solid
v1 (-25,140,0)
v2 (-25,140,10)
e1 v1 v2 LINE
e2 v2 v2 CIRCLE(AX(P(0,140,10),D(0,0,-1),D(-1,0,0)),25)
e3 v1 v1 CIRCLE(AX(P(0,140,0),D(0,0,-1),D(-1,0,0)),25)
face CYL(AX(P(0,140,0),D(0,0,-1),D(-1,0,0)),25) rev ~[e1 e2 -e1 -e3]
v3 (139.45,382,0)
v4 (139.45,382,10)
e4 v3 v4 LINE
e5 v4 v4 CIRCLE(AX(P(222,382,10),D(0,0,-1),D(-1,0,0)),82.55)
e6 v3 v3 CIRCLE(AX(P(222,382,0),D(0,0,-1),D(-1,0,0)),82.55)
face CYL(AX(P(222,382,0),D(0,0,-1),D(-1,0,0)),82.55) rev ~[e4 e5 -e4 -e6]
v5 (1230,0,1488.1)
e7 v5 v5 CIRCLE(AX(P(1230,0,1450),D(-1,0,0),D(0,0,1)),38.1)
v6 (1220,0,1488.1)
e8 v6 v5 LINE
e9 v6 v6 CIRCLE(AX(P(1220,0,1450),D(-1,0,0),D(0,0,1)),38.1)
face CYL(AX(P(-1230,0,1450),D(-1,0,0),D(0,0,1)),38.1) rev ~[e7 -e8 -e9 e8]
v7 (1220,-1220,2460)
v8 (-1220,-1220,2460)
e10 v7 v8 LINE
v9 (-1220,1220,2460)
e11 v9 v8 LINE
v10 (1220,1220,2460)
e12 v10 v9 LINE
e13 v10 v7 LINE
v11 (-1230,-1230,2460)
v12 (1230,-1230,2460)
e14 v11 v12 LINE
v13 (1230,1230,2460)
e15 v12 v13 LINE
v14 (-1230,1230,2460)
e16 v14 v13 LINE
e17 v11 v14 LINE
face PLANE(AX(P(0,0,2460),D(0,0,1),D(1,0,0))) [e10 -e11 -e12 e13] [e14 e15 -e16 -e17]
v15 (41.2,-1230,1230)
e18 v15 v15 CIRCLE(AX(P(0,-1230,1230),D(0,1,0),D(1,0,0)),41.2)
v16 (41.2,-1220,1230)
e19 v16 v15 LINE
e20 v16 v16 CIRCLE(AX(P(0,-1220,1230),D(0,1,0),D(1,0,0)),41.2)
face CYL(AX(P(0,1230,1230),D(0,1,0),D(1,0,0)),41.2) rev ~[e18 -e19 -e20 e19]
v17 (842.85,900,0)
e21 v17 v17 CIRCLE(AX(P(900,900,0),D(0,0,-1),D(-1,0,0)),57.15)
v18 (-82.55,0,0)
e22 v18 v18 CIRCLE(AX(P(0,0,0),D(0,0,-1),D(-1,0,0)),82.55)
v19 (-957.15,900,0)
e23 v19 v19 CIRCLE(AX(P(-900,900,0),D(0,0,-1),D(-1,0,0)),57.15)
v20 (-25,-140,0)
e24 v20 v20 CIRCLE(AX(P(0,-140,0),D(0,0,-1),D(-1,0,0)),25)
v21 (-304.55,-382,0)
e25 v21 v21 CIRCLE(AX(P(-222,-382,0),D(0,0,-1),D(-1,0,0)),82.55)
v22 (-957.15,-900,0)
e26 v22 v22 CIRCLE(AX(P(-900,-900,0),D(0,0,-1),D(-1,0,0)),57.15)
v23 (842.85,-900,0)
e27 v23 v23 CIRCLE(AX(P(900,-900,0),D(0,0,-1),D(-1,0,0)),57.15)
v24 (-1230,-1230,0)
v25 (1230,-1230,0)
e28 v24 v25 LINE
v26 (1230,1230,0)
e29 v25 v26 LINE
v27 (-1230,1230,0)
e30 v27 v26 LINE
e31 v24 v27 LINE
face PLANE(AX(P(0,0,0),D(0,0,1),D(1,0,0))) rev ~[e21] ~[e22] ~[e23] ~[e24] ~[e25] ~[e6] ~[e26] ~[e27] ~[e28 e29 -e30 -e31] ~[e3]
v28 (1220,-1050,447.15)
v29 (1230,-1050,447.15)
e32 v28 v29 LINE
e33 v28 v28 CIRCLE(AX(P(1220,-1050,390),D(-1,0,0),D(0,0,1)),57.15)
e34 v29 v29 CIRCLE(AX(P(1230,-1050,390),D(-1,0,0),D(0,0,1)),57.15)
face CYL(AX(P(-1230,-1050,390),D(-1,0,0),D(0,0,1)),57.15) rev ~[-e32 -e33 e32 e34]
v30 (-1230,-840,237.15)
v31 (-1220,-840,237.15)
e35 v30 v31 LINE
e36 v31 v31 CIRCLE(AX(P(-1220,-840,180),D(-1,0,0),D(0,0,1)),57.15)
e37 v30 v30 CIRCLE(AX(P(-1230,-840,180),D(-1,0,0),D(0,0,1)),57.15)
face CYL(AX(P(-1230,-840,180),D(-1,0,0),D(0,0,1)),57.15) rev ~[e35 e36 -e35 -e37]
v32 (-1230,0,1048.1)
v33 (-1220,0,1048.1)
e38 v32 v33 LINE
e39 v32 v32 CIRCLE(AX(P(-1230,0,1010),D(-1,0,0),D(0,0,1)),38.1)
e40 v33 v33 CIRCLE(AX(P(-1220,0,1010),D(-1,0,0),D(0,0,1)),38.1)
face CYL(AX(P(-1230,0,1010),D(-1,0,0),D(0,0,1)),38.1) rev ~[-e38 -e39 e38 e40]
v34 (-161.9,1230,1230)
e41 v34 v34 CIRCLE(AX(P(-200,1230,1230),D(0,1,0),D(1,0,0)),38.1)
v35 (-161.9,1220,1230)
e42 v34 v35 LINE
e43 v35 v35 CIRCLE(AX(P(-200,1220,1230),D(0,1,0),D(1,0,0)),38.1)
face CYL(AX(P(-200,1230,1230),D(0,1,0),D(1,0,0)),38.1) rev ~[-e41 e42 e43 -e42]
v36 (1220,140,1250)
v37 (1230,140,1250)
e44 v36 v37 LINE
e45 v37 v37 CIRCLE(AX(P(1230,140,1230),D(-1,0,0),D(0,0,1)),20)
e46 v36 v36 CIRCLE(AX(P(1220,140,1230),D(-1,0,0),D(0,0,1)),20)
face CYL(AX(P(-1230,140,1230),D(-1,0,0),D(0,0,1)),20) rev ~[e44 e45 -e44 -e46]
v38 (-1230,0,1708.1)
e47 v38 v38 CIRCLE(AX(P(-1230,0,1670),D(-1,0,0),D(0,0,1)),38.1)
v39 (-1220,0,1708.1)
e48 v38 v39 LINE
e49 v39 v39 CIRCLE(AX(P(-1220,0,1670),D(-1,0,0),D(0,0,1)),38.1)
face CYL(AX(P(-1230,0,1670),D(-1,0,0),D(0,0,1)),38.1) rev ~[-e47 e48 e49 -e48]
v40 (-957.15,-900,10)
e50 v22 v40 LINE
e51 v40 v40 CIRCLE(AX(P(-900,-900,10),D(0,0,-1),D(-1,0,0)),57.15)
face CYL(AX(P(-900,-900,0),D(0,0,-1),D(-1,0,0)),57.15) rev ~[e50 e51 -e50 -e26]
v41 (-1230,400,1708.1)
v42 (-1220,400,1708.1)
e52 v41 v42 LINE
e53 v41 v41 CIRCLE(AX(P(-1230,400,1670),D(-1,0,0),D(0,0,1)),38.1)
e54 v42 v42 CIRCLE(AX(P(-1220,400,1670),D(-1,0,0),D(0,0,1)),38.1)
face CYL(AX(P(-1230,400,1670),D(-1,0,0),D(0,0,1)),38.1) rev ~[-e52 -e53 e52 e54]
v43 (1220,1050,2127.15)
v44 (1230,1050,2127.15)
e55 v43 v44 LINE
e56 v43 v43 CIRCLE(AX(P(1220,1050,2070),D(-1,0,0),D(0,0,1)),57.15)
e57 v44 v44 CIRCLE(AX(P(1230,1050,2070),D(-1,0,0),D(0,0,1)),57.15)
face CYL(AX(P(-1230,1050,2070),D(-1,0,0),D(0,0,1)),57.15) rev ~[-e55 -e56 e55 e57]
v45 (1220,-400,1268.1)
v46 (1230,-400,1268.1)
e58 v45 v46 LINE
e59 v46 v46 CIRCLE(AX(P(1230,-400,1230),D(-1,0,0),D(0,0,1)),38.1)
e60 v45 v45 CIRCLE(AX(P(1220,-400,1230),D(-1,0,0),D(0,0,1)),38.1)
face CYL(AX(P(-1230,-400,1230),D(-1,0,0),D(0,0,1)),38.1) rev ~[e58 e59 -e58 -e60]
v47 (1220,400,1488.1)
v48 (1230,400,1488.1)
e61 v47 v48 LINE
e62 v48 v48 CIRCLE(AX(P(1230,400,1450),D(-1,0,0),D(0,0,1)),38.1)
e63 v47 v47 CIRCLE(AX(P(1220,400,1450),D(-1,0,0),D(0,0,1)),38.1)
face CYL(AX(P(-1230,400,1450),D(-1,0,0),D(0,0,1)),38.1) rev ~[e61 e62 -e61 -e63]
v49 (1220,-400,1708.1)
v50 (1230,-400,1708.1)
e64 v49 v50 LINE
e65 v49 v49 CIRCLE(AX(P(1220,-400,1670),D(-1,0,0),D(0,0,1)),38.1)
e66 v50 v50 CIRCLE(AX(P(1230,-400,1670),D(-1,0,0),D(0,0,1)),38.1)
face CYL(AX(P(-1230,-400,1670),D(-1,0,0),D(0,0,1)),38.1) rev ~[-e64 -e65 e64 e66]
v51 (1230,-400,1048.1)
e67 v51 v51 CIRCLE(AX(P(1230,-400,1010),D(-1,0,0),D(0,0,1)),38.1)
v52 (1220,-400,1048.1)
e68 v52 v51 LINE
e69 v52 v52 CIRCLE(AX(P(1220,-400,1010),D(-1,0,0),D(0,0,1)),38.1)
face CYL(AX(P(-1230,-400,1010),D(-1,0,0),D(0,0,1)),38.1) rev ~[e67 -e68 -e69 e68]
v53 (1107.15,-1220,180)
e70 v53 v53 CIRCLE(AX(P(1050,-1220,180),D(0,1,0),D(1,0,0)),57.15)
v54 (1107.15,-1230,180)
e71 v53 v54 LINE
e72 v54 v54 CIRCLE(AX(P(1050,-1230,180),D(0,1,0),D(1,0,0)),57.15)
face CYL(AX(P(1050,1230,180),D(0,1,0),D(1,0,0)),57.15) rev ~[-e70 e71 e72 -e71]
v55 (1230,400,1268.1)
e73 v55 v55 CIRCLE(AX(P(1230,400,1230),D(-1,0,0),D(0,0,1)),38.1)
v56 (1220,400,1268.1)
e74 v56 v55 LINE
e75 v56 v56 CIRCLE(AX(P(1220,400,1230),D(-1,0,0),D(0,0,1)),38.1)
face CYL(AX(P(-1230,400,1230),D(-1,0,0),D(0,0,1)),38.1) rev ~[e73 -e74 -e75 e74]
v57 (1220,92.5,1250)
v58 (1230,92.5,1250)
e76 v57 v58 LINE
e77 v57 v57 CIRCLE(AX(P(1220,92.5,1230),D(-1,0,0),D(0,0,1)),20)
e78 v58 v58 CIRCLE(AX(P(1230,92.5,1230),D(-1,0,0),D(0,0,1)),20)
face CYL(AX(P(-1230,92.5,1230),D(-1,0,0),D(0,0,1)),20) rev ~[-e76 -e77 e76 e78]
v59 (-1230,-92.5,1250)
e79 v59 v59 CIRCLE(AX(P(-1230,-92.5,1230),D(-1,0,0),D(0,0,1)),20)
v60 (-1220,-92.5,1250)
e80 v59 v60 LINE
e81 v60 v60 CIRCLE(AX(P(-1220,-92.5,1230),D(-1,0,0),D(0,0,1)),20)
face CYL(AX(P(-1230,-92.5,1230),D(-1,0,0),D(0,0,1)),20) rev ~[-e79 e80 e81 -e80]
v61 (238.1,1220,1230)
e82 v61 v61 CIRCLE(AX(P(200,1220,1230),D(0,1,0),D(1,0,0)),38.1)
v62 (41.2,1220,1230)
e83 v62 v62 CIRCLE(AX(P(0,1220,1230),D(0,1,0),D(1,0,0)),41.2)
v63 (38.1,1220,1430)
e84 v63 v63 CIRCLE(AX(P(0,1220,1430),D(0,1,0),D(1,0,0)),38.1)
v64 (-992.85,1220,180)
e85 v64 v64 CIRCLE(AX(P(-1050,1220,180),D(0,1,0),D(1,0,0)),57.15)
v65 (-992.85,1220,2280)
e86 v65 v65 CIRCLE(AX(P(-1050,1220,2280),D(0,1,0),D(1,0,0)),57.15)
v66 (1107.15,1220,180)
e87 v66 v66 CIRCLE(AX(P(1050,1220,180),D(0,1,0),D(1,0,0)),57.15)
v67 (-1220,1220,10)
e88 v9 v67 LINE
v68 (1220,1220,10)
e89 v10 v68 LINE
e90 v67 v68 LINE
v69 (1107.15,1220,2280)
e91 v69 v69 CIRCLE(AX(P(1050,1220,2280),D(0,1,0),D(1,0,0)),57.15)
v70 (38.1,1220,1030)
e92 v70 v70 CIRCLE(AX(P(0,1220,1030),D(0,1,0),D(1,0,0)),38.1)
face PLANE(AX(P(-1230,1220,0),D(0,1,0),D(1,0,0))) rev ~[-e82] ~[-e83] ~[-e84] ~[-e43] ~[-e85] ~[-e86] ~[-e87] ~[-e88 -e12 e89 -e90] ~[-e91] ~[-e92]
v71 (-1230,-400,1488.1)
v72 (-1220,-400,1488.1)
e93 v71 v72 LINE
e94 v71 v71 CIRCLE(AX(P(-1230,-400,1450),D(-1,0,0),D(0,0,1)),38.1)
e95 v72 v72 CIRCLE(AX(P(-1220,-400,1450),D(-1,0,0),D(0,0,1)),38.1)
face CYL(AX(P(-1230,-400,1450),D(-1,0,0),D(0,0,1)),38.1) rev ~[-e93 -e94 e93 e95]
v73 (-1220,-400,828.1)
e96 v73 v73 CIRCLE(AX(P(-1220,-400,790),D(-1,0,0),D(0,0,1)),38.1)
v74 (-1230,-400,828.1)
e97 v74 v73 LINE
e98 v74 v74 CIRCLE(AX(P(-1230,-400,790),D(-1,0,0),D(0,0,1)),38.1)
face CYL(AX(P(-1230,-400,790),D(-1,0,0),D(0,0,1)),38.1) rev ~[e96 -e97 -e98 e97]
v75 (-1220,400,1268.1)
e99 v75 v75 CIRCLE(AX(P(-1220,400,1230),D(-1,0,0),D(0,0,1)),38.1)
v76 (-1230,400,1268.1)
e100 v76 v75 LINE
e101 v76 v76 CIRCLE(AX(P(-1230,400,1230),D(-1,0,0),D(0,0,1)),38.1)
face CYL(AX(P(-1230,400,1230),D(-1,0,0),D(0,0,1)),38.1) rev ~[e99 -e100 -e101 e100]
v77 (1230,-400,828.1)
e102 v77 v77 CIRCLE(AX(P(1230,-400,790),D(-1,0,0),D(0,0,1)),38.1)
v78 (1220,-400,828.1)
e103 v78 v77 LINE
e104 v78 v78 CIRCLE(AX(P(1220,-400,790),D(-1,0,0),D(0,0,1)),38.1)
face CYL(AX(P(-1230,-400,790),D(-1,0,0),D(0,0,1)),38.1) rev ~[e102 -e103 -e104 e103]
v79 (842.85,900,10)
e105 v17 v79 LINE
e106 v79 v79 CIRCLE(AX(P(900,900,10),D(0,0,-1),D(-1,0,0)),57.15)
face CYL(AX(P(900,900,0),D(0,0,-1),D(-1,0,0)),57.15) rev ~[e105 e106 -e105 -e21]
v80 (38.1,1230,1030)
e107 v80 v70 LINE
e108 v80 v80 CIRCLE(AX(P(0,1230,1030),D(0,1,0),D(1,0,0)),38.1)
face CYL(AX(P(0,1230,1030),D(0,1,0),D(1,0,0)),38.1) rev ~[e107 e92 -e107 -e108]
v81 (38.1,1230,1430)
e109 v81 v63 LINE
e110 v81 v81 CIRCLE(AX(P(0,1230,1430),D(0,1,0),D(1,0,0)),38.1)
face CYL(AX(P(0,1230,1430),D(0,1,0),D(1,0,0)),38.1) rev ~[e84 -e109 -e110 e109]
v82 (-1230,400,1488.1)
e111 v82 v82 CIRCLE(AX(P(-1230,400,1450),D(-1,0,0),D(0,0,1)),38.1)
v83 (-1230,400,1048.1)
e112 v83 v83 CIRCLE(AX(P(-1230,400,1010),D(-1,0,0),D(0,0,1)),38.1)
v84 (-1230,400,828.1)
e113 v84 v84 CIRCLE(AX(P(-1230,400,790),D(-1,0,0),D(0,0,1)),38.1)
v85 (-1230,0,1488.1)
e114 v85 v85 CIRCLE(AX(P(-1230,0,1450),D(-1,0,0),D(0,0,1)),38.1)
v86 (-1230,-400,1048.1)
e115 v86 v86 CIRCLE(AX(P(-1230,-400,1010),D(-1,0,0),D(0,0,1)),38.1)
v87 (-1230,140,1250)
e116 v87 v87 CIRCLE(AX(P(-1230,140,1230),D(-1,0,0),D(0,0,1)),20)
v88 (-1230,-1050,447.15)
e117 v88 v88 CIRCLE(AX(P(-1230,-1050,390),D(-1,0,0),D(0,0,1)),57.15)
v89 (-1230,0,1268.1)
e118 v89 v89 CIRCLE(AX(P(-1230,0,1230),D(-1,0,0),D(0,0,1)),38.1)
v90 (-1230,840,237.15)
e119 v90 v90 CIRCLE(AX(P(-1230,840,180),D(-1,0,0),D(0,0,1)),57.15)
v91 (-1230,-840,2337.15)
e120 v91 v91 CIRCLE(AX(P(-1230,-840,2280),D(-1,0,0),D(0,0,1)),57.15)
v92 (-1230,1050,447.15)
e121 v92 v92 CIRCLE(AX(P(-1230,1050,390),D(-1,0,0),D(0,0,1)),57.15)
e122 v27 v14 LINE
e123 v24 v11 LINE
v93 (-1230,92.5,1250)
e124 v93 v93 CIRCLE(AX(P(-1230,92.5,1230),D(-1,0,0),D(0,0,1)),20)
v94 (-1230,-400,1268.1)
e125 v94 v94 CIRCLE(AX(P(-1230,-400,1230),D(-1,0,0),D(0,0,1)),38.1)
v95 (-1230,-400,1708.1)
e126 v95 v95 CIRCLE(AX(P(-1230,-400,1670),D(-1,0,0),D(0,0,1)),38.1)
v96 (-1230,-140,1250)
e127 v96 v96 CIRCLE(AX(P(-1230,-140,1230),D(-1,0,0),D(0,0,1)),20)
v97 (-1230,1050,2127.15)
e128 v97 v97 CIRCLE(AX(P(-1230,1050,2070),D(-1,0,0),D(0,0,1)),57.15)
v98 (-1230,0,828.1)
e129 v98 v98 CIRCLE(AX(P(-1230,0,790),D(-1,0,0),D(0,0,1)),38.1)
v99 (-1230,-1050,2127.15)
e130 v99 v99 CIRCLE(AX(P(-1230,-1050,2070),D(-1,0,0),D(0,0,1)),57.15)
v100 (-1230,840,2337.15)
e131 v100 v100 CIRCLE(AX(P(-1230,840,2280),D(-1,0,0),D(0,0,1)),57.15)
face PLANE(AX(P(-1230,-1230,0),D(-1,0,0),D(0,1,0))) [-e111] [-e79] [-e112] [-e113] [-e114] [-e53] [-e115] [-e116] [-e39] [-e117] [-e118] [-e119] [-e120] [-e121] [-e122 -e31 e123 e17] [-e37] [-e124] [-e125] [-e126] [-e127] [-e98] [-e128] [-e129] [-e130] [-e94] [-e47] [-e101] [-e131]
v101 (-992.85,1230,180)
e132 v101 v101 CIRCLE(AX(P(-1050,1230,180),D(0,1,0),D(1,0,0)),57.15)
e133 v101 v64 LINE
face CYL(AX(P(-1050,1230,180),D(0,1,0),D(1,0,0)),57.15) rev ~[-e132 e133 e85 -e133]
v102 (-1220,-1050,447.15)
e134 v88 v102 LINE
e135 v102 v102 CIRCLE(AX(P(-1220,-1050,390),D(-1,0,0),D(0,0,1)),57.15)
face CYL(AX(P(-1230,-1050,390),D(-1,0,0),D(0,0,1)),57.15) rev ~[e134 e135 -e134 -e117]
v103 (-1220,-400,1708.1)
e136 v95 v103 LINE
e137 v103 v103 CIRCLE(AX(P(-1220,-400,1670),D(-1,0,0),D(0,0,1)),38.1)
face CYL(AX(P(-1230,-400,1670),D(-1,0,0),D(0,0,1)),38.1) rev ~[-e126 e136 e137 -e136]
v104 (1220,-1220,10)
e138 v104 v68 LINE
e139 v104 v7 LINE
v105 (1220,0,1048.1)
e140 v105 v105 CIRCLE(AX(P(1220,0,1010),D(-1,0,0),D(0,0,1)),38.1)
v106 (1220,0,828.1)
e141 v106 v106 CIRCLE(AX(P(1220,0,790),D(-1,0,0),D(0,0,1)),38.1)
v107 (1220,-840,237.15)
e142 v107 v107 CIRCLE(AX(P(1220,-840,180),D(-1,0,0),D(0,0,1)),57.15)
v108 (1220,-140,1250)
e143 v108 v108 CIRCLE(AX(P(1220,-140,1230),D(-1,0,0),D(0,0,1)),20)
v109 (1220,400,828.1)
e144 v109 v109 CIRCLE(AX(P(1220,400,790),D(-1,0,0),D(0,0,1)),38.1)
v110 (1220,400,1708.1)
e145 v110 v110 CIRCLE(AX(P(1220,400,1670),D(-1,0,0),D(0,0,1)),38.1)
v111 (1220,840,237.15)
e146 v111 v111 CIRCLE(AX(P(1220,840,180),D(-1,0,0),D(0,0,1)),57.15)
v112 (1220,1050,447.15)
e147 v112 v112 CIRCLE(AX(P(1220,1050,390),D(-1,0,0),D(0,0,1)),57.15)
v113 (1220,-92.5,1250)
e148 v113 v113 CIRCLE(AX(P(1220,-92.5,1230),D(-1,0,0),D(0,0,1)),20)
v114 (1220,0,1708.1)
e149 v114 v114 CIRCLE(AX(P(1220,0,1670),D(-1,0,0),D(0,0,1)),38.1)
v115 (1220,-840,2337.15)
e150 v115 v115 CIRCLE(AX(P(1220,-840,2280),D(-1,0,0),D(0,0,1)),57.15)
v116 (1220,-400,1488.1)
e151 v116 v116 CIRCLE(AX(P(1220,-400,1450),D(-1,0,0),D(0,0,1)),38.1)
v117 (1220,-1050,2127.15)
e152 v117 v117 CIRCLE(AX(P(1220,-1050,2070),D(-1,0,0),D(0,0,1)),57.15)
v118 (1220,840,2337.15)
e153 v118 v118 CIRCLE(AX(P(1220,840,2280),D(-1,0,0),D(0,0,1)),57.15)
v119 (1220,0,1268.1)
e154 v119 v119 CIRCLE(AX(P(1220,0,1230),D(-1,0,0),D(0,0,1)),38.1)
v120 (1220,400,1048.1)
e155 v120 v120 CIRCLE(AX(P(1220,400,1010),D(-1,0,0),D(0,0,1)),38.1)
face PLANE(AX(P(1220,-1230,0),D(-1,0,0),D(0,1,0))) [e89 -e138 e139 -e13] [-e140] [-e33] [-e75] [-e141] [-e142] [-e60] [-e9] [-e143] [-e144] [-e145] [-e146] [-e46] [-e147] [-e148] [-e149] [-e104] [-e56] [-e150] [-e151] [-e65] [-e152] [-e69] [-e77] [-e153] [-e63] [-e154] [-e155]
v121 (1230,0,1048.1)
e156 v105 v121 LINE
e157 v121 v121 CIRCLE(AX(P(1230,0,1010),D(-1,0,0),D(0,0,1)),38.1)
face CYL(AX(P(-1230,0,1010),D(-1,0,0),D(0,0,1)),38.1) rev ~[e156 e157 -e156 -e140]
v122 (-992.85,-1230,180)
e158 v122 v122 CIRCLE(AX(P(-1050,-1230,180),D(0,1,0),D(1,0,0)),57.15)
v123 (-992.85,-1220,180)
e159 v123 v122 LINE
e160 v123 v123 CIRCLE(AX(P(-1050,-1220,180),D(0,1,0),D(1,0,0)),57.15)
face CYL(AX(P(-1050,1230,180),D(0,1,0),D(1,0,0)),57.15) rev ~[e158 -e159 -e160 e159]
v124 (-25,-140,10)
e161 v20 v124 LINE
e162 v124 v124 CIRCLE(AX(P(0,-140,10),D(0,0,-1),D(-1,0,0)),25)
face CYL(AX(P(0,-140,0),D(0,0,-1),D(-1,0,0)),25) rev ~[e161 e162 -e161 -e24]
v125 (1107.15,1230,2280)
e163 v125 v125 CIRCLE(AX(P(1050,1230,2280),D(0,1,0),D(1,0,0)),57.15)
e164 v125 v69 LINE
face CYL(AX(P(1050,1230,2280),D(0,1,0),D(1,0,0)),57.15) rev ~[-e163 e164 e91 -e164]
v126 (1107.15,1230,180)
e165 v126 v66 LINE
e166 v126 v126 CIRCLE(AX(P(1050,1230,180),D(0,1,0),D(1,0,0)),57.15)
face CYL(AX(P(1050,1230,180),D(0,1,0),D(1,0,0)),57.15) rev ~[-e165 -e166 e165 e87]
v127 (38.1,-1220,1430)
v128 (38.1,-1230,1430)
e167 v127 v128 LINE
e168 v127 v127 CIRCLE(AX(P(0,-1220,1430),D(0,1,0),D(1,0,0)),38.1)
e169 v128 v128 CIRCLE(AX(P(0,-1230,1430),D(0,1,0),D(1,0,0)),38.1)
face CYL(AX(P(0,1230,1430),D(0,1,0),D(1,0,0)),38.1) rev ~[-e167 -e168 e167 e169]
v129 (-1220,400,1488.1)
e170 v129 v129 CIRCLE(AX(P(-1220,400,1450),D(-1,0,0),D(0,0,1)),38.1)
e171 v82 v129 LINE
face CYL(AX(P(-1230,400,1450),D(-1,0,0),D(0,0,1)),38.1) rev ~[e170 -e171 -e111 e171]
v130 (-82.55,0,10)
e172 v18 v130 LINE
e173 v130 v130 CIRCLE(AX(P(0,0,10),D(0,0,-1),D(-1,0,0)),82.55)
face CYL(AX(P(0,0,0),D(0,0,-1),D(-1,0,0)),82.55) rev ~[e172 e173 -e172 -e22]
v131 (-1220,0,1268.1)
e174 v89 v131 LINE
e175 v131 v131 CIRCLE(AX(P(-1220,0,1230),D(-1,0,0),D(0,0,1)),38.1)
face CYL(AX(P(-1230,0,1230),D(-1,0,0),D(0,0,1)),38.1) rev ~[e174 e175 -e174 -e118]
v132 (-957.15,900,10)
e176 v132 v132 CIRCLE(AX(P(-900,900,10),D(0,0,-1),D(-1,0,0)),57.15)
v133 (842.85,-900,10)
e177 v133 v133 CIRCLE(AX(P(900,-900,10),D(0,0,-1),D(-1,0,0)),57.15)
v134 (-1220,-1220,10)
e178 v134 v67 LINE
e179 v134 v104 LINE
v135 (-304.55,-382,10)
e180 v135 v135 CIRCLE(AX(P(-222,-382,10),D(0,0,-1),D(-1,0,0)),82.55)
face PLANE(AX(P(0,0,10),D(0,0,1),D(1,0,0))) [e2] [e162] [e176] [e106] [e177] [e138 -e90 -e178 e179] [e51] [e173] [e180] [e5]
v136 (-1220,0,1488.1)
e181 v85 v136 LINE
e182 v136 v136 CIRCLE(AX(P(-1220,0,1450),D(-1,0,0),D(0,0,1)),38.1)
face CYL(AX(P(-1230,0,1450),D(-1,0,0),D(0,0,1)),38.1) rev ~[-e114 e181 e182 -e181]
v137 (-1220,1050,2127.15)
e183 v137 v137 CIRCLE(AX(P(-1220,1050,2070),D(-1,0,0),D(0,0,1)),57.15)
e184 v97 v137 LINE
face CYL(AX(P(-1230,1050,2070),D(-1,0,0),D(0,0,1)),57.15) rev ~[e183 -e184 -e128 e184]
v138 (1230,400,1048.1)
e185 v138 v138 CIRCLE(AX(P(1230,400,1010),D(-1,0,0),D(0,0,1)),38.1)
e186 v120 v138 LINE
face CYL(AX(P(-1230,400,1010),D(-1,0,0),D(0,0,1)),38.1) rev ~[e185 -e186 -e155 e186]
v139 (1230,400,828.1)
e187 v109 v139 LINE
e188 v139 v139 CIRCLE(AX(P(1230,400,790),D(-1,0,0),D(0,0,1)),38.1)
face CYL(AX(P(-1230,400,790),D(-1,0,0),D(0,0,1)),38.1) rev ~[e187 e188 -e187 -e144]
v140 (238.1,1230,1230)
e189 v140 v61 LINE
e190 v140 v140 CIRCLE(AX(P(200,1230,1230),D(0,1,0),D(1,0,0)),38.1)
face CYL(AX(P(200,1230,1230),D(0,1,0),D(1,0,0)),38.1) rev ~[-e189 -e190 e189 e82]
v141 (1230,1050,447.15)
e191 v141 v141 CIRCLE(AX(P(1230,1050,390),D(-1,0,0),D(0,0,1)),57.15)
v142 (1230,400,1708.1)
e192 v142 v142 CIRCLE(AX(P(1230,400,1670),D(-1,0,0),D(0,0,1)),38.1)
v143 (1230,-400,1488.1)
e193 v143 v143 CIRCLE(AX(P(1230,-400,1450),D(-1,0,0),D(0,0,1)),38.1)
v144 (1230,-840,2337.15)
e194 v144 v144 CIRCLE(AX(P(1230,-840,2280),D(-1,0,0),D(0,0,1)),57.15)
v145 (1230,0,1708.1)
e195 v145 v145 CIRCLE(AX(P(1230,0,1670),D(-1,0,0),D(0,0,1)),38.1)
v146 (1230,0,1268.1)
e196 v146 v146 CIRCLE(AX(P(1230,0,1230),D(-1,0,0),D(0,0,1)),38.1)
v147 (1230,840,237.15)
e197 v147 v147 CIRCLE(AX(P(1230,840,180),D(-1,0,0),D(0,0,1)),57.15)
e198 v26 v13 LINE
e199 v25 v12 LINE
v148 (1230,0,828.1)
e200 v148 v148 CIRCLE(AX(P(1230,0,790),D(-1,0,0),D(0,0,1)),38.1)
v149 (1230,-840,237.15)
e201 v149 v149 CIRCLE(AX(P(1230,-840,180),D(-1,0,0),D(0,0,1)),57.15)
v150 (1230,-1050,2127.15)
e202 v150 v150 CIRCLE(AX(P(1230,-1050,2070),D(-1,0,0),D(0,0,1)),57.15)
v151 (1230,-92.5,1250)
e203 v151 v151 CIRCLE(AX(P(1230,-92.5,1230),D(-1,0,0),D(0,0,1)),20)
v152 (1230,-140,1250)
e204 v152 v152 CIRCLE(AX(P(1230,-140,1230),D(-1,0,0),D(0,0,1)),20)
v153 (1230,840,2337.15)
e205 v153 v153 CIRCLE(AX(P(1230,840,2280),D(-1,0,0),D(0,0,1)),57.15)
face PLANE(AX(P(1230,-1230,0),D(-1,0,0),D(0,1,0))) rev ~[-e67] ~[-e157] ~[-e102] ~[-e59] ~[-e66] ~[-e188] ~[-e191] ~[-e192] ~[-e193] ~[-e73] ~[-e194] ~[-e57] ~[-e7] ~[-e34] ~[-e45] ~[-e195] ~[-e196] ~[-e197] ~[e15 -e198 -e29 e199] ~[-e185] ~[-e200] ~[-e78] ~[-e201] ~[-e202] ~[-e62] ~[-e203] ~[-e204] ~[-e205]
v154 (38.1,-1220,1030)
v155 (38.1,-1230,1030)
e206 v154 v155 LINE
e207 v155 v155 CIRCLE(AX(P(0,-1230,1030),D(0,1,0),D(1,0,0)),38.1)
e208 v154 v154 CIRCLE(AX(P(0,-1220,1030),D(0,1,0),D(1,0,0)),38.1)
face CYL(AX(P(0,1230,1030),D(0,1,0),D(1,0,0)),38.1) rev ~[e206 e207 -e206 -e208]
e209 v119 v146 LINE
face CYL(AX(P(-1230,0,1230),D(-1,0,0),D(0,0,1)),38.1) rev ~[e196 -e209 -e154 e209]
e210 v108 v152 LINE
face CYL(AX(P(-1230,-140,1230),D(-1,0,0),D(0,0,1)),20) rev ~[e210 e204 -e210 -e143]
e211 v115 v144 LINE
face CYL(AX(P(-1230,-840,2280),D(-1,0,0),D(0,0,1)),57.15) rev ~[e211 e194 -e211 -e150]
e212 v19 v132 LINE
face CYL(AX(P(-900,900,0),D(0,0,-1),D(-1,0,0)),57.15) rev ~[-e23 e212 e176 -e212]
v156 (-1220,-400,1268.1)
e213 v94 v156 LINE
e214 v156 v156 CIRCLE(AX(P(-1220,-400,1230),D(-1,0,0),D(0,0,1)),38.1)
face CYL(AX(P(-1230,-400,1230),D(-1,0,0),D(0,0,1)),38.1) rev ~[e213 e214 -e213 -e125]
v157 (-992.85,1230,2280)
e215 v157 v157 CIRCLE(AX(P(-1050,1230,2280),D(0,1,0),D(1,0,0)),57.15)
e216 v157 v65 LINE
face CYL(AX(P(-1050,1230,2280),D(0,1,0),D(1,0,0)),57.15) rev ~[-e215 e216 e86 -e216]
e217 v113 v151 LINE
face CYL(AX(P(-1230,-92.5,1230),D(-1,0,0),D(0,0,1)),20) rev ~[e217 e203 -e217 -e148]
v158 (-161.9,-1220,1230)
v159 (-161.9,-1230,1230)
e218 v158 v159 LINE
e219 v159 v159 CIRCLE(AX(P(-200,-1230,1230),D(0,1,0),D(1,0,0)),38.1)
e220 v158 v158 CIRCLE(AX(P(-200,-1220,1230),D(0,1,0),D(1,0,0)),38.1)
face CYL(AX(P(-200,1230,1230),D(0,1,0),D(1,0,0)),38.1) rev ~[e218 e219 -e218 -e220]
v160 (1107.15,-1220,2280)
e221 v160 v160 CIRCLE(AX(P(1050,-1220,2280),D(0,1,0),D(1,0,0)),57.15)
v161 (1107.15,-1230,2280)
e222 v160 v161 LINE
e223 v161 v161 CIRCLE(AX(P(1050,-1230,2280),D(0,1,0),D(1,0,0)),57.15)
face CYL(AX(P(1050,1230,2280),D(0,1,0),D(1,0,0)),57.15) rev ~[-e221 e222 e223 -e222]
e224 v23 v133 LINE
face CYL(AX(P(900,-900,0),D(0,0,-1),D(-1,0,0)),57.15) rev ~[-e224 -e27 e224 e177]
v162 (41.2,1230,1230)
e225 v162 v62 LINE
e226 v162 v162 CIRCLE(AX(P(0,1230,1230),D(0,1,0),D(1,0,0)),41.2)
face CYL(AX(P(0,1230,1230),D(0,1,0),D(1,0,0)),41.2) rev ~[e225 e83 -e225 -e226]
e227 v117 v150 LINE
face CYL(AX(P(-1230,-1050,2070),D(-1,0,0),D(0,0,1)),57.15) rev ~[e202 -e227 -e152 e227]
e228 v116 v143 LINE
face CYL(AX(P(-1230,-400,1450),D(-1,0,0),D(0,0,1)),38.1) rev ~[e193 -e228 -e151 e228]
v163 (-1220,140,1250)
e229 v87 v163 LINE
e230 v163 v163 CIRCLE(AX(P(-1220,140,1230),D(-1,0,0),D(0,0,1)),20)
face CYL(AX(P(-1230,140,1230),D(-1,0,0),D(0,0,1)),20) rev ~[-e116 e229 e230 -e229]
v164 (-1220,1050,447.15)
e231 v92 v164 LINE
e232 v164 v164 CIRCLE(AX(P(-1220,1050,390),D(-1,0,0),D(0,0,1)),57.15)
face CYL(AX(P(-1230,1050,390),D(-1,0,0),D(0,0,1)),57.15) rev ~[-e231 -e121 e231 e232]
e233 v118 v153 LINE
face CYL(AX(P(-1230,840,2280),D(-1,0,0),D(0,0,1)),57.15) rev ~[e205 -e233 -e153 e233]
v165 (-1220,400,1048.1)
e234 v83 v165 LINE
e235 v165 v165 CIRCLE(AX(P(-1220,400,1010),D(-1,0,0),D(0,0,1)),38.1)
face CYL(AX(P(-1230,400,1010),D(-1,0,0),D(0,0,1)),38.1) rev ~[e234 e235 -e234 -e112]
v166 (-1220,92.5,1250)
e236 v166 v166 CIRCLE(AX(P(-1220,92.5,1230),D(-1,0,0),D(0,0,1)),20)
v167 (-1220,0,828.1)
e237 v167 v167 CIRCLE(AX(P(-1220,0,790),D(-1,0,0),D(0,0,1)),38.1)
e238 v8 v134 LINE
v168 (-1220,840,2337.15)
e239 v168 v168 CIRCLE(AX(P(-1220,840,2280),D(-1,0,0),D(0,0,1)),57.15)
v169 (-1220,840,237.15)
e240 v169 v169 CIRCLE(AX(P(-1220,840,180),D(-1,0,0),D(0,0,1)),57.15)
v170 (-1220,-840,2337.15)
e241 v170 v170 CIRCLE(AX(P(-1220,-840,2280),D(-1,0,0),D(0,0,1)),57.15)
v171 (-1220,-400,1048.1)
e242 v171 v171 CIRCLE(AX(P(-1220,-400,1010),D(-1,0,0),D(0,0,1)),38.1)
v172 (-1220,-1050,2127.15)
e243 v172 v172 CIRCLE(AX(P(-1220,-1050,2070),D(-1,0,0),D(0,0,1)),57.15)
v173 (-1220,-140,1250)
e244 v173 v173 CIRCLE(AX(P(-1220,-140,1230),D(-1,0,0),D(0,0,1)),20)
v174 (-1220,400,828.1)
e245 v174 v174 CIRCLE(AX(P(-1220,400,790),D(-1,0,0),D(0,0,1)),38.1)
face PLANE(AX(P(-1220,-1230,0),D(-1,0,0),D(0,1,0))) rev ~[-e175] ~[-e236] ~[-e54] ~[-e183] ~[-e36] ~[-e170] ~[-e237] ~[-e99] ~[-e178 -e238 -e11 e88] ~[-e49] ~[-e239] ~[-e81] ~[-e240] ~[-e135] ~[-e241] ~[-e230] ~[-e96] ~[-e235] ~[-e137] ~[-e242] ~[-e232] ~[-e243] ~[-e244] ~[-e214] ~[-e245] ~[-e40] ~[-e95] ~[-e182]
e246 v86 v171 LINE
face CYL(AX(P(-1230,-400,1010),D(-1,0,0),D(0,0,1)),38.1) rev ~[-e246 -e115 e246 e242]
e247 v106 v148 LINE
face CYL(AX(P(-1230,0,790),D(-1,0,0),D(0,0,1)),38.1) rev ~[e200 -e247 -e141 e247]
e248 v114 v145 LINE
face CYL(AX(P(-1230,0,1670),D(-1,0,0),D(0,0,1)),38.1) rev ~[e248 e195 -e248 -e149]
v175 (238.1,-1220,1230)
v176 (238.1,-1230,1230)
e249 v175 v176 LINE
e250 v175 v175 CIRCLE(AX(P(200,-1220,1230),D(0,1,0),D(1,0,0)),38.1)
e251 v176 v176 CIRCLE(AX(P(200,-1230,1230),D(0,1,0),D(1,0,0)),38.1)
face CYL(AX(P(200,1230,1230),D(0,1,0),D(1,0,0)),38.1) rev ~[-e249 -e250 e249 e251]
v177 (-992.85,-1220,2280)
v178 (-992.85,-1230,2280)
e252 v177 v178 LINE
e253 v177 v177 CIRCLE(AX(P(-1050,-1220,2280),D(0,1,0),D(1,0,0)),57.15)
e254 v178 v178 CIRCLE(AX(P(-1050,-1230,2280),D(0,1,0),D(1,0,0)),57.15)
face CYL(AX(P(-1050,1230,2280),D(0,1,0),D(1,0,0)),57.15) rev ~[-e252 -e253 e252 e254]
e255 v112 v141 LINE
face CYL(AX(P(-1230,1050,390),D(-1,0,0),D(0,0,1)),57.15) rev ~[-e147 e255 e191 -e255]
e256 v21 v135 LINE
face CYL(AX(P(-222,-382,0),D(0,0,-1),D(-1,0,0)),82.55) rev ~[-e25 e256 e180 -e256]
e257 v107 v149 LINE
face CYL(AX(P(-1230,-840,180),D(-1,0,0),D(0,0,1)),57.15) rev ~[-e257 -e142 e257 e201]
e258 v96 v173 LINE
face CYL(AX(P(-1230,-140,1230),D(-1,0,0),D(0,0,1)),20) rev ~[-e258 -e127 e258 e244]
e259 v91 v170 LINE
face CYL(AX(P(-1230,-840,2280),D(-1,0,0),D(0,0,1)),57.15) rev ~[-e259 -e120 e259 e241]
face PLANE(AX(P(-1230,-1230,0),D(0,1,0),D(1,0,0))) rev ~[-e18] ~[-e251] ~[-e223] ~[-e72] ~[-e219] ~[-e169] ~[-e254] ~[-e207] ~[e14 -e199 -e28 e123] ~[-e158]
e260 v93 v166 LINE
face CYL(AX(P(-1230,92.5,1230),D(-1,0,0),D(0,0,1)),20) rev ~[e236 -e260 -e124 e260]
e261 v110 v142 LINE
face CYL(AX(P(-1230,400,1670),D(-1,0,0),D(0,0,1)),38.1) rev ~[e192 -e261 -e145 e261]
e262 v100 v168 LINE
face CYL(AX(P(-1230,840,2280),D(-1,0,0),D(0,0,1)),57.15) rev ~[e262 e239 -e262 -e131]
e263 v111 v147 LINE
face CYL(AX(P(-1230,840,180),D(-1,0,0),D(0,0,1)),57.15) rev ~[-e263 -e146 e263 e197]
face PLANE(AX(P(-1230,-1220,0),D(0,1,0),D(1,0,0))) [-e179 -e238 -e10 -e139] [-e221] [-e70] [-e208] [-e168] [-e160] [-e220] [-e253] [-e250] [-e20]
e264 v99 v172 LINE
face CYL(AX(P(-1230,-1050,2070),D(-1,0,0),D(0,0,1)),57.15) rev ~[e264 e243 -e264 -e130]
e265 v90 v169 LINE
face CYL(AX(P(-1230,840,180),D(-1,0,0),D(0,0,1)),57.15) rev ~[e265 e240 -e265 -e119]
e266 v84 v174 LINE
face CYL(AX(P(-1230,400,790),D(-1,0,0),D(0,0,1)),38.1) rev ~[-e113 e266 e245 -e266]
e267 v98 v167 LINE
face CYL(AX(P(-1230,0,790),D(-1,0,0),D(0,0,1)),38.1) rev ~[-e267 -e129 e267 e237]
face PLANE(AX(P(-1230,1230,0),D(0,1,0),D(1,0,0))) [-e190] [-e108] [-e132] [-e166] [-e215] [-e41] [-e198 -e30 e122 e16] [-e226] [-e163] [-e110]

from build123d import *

# Parameters (mm, degrees)
SKETCH1_W           = 2460
SKETCH1_H           = 2460
BOSS_EXTRUDE1_DEPTH = 2460
SHELL1_T            = -10
SKETCH2_R           = 38.1
SKETCH2_R_2         = 20
SKETCH2_R_3         = 57.15
CUT_EXTRUDE1_DEPTH  = 2461
SKETCH3_R           = 41.2
SKETCH3_R_2         = 38.1
SKETCH3_R_3         = 57.15
CUT_EXTRUDE2_DEPTH  = 2461
SKETCH4_R           = 82.55
SKETCH4_R_2         = 57.15
SKETCH4_R_3         = 25
CUT_EXTRUDE3_DEPTH  = 2461


with BuildPart() as part:
    # Sketch1 → Boss-Extrude1 (new body)
    with BuildSketch(Plane.XY):
        Rectangle(SKETCH1_W, SKETCH1_H)
    extrude(amount=BOSS_EXTRUDE1_DEPTH)

    # Shell1
    shell1_openings = [part.faces().sort_by_distance(p)[0] for p in [
        (0, 0, 2460),
    ]]
    offset(amount=SHELL1_T, openings=shell1_openings, kind=Kind.INTERSECTION)

    # Sketch2 → Cut-Extrude1 (cut, through all)
    with BuildSketch(Plane.ZY.offset(1230)):
        with Locations((1230, 0)):
            Circle(SKETCH2_R)
        with Locations((1010, 0)):
            Circle(SKETCH2_R)
        with Locations((790, 0)):
            Circle(SKETCH2_R)
        with Locations((1450, 0)):
            Circle(SKETCH2_R)
        with Locations((1670, 0)):
            Circle(SKETCH2_R)
        with Locations((790, 400)):
            Circle(SKETCH2_R)
        with Locations((1010, 400)):
            Circle(SKETCH2_R)
        with Locations((1230, 400)):
            Circle(SKETCH2_R)
        with Locations((1450, 400)):
            Circle(SKETCH2_R)
        with Locations((1670, 400)):
            Circle(SKETCH2_R)
        with Locations((1670, -400)):
            Circle(SKETCH2_R)
        with Locations((1450, -400)):
            Circle(SKETCH2_R)
        with Locations((1230, -400)):
            Circle(SKETCH2_R)
        with Locations((1010, -400)):
            Circle(SKETCH2_R)
        with Locations((790, -400)):
            Circle(SKETCH2_R)
        with Locations((1230, 92.5)):
            Circle(SKETCH2_R_2)
        with Locations((1230, 140)):
            Circle(SKETCH2_R_2)
        with Locations((1230, -140)):
            Circle(SKETCH2_R_2)
        with Locations((1230, -92.5)):
            Circle(SKETCH2_R_2)
        with Locations((390, 1050)):
            Circle(SKETCH2_R_3)
        with Locations((180, 840)):
            Circle(SKETCH2_R_3)
        with Locations((2280, 840)):
            Circle(SKETCH2_R_3)
        with Locations((2070, 1050)):
            Circle(SKETCH2_R_3)
        with Locations((2280, -840)):
            Circle(SKETCH2_R_3)
        with Locations((2070, -1050)):
            Circle(SKETCH2_R_3)
        with Locations((180, -840)):
            Circle(SKETCH2_R_3)
        with Locations((390, -1050)):
            Circle(SKETCH2_R_3)
    extrude(amount=-CUT_EXTRUDE1_DEPTH, mode=Mode.SUBTRACT)

    # Sketch3 → Cut-Extrude2 (cut, through all)
    with BuildSketch(Plane(origin=(0, 1230, 0), x_dir=(1, 0, 0), z_dir=(0, 1, 0))):
        with Locations((0, -1230)):
            Circle(SKETCH3_R)
        with Locations((-200, -1230)):
            Circle(SKETCH3_R_2)
        with Locations((200, -1230)):
            Circle(SKETCH3_R_2)
        with Locations((0, -1430)):
            Circle(SKETCH3_R_2)
        with Locations((0, -1030)):
            Circle(SKETCH3_R_2)
        with Locations((-1050, -180)):
            Circle(SKETCH3_R_3)
        with Locations((1050, -180)):
            Circle(SKETCH3_R_3)
        with Locations((1050, -2280)):
            Circle(SKETCH3_R_3)
        with Locations((-1050, -2280)):
            Circle(SKETCH3_R_3)
    extrude(amount=-CUT_EXTRUDE2_DEPTH, mode=Mode.SUBTRACT)

    # Sketch4 → Cut-Extrude3 (cut, through all)
    with BuildSketch(Plane(origin=(0, 0, 0), x_dir=(-1, 0, 0), z_dir=(0, 0, -1))):
        Circle(SKETCH4_R)
        with Locations((-222, 382)):
            Circle(SKETCH4_R)
        with Locations((222, -382)):
            Circle(SKETCH4_R)
        with Locations((-900, 900)):
            Circle(SKETCH4_R_2)
        with Locations((900, 900)):
            Circle(SKETCH4_R_2)
        with Locations((900, -900)):
            Circle(SKETCH4_R_2)
        with Locations((-900, -900)):
            Circle(SKETCH4_R_2)
        with Locations((0, 140)):
            Circle(SKETCH4_R_3)
        with Locations((0, -140)):
            Circle(SKETCH4_R_3)
    extrude(amount=-CUT_EXTRUDE3_DEPTH, mode=Mode.SUBTRACT)


solid = part.part
